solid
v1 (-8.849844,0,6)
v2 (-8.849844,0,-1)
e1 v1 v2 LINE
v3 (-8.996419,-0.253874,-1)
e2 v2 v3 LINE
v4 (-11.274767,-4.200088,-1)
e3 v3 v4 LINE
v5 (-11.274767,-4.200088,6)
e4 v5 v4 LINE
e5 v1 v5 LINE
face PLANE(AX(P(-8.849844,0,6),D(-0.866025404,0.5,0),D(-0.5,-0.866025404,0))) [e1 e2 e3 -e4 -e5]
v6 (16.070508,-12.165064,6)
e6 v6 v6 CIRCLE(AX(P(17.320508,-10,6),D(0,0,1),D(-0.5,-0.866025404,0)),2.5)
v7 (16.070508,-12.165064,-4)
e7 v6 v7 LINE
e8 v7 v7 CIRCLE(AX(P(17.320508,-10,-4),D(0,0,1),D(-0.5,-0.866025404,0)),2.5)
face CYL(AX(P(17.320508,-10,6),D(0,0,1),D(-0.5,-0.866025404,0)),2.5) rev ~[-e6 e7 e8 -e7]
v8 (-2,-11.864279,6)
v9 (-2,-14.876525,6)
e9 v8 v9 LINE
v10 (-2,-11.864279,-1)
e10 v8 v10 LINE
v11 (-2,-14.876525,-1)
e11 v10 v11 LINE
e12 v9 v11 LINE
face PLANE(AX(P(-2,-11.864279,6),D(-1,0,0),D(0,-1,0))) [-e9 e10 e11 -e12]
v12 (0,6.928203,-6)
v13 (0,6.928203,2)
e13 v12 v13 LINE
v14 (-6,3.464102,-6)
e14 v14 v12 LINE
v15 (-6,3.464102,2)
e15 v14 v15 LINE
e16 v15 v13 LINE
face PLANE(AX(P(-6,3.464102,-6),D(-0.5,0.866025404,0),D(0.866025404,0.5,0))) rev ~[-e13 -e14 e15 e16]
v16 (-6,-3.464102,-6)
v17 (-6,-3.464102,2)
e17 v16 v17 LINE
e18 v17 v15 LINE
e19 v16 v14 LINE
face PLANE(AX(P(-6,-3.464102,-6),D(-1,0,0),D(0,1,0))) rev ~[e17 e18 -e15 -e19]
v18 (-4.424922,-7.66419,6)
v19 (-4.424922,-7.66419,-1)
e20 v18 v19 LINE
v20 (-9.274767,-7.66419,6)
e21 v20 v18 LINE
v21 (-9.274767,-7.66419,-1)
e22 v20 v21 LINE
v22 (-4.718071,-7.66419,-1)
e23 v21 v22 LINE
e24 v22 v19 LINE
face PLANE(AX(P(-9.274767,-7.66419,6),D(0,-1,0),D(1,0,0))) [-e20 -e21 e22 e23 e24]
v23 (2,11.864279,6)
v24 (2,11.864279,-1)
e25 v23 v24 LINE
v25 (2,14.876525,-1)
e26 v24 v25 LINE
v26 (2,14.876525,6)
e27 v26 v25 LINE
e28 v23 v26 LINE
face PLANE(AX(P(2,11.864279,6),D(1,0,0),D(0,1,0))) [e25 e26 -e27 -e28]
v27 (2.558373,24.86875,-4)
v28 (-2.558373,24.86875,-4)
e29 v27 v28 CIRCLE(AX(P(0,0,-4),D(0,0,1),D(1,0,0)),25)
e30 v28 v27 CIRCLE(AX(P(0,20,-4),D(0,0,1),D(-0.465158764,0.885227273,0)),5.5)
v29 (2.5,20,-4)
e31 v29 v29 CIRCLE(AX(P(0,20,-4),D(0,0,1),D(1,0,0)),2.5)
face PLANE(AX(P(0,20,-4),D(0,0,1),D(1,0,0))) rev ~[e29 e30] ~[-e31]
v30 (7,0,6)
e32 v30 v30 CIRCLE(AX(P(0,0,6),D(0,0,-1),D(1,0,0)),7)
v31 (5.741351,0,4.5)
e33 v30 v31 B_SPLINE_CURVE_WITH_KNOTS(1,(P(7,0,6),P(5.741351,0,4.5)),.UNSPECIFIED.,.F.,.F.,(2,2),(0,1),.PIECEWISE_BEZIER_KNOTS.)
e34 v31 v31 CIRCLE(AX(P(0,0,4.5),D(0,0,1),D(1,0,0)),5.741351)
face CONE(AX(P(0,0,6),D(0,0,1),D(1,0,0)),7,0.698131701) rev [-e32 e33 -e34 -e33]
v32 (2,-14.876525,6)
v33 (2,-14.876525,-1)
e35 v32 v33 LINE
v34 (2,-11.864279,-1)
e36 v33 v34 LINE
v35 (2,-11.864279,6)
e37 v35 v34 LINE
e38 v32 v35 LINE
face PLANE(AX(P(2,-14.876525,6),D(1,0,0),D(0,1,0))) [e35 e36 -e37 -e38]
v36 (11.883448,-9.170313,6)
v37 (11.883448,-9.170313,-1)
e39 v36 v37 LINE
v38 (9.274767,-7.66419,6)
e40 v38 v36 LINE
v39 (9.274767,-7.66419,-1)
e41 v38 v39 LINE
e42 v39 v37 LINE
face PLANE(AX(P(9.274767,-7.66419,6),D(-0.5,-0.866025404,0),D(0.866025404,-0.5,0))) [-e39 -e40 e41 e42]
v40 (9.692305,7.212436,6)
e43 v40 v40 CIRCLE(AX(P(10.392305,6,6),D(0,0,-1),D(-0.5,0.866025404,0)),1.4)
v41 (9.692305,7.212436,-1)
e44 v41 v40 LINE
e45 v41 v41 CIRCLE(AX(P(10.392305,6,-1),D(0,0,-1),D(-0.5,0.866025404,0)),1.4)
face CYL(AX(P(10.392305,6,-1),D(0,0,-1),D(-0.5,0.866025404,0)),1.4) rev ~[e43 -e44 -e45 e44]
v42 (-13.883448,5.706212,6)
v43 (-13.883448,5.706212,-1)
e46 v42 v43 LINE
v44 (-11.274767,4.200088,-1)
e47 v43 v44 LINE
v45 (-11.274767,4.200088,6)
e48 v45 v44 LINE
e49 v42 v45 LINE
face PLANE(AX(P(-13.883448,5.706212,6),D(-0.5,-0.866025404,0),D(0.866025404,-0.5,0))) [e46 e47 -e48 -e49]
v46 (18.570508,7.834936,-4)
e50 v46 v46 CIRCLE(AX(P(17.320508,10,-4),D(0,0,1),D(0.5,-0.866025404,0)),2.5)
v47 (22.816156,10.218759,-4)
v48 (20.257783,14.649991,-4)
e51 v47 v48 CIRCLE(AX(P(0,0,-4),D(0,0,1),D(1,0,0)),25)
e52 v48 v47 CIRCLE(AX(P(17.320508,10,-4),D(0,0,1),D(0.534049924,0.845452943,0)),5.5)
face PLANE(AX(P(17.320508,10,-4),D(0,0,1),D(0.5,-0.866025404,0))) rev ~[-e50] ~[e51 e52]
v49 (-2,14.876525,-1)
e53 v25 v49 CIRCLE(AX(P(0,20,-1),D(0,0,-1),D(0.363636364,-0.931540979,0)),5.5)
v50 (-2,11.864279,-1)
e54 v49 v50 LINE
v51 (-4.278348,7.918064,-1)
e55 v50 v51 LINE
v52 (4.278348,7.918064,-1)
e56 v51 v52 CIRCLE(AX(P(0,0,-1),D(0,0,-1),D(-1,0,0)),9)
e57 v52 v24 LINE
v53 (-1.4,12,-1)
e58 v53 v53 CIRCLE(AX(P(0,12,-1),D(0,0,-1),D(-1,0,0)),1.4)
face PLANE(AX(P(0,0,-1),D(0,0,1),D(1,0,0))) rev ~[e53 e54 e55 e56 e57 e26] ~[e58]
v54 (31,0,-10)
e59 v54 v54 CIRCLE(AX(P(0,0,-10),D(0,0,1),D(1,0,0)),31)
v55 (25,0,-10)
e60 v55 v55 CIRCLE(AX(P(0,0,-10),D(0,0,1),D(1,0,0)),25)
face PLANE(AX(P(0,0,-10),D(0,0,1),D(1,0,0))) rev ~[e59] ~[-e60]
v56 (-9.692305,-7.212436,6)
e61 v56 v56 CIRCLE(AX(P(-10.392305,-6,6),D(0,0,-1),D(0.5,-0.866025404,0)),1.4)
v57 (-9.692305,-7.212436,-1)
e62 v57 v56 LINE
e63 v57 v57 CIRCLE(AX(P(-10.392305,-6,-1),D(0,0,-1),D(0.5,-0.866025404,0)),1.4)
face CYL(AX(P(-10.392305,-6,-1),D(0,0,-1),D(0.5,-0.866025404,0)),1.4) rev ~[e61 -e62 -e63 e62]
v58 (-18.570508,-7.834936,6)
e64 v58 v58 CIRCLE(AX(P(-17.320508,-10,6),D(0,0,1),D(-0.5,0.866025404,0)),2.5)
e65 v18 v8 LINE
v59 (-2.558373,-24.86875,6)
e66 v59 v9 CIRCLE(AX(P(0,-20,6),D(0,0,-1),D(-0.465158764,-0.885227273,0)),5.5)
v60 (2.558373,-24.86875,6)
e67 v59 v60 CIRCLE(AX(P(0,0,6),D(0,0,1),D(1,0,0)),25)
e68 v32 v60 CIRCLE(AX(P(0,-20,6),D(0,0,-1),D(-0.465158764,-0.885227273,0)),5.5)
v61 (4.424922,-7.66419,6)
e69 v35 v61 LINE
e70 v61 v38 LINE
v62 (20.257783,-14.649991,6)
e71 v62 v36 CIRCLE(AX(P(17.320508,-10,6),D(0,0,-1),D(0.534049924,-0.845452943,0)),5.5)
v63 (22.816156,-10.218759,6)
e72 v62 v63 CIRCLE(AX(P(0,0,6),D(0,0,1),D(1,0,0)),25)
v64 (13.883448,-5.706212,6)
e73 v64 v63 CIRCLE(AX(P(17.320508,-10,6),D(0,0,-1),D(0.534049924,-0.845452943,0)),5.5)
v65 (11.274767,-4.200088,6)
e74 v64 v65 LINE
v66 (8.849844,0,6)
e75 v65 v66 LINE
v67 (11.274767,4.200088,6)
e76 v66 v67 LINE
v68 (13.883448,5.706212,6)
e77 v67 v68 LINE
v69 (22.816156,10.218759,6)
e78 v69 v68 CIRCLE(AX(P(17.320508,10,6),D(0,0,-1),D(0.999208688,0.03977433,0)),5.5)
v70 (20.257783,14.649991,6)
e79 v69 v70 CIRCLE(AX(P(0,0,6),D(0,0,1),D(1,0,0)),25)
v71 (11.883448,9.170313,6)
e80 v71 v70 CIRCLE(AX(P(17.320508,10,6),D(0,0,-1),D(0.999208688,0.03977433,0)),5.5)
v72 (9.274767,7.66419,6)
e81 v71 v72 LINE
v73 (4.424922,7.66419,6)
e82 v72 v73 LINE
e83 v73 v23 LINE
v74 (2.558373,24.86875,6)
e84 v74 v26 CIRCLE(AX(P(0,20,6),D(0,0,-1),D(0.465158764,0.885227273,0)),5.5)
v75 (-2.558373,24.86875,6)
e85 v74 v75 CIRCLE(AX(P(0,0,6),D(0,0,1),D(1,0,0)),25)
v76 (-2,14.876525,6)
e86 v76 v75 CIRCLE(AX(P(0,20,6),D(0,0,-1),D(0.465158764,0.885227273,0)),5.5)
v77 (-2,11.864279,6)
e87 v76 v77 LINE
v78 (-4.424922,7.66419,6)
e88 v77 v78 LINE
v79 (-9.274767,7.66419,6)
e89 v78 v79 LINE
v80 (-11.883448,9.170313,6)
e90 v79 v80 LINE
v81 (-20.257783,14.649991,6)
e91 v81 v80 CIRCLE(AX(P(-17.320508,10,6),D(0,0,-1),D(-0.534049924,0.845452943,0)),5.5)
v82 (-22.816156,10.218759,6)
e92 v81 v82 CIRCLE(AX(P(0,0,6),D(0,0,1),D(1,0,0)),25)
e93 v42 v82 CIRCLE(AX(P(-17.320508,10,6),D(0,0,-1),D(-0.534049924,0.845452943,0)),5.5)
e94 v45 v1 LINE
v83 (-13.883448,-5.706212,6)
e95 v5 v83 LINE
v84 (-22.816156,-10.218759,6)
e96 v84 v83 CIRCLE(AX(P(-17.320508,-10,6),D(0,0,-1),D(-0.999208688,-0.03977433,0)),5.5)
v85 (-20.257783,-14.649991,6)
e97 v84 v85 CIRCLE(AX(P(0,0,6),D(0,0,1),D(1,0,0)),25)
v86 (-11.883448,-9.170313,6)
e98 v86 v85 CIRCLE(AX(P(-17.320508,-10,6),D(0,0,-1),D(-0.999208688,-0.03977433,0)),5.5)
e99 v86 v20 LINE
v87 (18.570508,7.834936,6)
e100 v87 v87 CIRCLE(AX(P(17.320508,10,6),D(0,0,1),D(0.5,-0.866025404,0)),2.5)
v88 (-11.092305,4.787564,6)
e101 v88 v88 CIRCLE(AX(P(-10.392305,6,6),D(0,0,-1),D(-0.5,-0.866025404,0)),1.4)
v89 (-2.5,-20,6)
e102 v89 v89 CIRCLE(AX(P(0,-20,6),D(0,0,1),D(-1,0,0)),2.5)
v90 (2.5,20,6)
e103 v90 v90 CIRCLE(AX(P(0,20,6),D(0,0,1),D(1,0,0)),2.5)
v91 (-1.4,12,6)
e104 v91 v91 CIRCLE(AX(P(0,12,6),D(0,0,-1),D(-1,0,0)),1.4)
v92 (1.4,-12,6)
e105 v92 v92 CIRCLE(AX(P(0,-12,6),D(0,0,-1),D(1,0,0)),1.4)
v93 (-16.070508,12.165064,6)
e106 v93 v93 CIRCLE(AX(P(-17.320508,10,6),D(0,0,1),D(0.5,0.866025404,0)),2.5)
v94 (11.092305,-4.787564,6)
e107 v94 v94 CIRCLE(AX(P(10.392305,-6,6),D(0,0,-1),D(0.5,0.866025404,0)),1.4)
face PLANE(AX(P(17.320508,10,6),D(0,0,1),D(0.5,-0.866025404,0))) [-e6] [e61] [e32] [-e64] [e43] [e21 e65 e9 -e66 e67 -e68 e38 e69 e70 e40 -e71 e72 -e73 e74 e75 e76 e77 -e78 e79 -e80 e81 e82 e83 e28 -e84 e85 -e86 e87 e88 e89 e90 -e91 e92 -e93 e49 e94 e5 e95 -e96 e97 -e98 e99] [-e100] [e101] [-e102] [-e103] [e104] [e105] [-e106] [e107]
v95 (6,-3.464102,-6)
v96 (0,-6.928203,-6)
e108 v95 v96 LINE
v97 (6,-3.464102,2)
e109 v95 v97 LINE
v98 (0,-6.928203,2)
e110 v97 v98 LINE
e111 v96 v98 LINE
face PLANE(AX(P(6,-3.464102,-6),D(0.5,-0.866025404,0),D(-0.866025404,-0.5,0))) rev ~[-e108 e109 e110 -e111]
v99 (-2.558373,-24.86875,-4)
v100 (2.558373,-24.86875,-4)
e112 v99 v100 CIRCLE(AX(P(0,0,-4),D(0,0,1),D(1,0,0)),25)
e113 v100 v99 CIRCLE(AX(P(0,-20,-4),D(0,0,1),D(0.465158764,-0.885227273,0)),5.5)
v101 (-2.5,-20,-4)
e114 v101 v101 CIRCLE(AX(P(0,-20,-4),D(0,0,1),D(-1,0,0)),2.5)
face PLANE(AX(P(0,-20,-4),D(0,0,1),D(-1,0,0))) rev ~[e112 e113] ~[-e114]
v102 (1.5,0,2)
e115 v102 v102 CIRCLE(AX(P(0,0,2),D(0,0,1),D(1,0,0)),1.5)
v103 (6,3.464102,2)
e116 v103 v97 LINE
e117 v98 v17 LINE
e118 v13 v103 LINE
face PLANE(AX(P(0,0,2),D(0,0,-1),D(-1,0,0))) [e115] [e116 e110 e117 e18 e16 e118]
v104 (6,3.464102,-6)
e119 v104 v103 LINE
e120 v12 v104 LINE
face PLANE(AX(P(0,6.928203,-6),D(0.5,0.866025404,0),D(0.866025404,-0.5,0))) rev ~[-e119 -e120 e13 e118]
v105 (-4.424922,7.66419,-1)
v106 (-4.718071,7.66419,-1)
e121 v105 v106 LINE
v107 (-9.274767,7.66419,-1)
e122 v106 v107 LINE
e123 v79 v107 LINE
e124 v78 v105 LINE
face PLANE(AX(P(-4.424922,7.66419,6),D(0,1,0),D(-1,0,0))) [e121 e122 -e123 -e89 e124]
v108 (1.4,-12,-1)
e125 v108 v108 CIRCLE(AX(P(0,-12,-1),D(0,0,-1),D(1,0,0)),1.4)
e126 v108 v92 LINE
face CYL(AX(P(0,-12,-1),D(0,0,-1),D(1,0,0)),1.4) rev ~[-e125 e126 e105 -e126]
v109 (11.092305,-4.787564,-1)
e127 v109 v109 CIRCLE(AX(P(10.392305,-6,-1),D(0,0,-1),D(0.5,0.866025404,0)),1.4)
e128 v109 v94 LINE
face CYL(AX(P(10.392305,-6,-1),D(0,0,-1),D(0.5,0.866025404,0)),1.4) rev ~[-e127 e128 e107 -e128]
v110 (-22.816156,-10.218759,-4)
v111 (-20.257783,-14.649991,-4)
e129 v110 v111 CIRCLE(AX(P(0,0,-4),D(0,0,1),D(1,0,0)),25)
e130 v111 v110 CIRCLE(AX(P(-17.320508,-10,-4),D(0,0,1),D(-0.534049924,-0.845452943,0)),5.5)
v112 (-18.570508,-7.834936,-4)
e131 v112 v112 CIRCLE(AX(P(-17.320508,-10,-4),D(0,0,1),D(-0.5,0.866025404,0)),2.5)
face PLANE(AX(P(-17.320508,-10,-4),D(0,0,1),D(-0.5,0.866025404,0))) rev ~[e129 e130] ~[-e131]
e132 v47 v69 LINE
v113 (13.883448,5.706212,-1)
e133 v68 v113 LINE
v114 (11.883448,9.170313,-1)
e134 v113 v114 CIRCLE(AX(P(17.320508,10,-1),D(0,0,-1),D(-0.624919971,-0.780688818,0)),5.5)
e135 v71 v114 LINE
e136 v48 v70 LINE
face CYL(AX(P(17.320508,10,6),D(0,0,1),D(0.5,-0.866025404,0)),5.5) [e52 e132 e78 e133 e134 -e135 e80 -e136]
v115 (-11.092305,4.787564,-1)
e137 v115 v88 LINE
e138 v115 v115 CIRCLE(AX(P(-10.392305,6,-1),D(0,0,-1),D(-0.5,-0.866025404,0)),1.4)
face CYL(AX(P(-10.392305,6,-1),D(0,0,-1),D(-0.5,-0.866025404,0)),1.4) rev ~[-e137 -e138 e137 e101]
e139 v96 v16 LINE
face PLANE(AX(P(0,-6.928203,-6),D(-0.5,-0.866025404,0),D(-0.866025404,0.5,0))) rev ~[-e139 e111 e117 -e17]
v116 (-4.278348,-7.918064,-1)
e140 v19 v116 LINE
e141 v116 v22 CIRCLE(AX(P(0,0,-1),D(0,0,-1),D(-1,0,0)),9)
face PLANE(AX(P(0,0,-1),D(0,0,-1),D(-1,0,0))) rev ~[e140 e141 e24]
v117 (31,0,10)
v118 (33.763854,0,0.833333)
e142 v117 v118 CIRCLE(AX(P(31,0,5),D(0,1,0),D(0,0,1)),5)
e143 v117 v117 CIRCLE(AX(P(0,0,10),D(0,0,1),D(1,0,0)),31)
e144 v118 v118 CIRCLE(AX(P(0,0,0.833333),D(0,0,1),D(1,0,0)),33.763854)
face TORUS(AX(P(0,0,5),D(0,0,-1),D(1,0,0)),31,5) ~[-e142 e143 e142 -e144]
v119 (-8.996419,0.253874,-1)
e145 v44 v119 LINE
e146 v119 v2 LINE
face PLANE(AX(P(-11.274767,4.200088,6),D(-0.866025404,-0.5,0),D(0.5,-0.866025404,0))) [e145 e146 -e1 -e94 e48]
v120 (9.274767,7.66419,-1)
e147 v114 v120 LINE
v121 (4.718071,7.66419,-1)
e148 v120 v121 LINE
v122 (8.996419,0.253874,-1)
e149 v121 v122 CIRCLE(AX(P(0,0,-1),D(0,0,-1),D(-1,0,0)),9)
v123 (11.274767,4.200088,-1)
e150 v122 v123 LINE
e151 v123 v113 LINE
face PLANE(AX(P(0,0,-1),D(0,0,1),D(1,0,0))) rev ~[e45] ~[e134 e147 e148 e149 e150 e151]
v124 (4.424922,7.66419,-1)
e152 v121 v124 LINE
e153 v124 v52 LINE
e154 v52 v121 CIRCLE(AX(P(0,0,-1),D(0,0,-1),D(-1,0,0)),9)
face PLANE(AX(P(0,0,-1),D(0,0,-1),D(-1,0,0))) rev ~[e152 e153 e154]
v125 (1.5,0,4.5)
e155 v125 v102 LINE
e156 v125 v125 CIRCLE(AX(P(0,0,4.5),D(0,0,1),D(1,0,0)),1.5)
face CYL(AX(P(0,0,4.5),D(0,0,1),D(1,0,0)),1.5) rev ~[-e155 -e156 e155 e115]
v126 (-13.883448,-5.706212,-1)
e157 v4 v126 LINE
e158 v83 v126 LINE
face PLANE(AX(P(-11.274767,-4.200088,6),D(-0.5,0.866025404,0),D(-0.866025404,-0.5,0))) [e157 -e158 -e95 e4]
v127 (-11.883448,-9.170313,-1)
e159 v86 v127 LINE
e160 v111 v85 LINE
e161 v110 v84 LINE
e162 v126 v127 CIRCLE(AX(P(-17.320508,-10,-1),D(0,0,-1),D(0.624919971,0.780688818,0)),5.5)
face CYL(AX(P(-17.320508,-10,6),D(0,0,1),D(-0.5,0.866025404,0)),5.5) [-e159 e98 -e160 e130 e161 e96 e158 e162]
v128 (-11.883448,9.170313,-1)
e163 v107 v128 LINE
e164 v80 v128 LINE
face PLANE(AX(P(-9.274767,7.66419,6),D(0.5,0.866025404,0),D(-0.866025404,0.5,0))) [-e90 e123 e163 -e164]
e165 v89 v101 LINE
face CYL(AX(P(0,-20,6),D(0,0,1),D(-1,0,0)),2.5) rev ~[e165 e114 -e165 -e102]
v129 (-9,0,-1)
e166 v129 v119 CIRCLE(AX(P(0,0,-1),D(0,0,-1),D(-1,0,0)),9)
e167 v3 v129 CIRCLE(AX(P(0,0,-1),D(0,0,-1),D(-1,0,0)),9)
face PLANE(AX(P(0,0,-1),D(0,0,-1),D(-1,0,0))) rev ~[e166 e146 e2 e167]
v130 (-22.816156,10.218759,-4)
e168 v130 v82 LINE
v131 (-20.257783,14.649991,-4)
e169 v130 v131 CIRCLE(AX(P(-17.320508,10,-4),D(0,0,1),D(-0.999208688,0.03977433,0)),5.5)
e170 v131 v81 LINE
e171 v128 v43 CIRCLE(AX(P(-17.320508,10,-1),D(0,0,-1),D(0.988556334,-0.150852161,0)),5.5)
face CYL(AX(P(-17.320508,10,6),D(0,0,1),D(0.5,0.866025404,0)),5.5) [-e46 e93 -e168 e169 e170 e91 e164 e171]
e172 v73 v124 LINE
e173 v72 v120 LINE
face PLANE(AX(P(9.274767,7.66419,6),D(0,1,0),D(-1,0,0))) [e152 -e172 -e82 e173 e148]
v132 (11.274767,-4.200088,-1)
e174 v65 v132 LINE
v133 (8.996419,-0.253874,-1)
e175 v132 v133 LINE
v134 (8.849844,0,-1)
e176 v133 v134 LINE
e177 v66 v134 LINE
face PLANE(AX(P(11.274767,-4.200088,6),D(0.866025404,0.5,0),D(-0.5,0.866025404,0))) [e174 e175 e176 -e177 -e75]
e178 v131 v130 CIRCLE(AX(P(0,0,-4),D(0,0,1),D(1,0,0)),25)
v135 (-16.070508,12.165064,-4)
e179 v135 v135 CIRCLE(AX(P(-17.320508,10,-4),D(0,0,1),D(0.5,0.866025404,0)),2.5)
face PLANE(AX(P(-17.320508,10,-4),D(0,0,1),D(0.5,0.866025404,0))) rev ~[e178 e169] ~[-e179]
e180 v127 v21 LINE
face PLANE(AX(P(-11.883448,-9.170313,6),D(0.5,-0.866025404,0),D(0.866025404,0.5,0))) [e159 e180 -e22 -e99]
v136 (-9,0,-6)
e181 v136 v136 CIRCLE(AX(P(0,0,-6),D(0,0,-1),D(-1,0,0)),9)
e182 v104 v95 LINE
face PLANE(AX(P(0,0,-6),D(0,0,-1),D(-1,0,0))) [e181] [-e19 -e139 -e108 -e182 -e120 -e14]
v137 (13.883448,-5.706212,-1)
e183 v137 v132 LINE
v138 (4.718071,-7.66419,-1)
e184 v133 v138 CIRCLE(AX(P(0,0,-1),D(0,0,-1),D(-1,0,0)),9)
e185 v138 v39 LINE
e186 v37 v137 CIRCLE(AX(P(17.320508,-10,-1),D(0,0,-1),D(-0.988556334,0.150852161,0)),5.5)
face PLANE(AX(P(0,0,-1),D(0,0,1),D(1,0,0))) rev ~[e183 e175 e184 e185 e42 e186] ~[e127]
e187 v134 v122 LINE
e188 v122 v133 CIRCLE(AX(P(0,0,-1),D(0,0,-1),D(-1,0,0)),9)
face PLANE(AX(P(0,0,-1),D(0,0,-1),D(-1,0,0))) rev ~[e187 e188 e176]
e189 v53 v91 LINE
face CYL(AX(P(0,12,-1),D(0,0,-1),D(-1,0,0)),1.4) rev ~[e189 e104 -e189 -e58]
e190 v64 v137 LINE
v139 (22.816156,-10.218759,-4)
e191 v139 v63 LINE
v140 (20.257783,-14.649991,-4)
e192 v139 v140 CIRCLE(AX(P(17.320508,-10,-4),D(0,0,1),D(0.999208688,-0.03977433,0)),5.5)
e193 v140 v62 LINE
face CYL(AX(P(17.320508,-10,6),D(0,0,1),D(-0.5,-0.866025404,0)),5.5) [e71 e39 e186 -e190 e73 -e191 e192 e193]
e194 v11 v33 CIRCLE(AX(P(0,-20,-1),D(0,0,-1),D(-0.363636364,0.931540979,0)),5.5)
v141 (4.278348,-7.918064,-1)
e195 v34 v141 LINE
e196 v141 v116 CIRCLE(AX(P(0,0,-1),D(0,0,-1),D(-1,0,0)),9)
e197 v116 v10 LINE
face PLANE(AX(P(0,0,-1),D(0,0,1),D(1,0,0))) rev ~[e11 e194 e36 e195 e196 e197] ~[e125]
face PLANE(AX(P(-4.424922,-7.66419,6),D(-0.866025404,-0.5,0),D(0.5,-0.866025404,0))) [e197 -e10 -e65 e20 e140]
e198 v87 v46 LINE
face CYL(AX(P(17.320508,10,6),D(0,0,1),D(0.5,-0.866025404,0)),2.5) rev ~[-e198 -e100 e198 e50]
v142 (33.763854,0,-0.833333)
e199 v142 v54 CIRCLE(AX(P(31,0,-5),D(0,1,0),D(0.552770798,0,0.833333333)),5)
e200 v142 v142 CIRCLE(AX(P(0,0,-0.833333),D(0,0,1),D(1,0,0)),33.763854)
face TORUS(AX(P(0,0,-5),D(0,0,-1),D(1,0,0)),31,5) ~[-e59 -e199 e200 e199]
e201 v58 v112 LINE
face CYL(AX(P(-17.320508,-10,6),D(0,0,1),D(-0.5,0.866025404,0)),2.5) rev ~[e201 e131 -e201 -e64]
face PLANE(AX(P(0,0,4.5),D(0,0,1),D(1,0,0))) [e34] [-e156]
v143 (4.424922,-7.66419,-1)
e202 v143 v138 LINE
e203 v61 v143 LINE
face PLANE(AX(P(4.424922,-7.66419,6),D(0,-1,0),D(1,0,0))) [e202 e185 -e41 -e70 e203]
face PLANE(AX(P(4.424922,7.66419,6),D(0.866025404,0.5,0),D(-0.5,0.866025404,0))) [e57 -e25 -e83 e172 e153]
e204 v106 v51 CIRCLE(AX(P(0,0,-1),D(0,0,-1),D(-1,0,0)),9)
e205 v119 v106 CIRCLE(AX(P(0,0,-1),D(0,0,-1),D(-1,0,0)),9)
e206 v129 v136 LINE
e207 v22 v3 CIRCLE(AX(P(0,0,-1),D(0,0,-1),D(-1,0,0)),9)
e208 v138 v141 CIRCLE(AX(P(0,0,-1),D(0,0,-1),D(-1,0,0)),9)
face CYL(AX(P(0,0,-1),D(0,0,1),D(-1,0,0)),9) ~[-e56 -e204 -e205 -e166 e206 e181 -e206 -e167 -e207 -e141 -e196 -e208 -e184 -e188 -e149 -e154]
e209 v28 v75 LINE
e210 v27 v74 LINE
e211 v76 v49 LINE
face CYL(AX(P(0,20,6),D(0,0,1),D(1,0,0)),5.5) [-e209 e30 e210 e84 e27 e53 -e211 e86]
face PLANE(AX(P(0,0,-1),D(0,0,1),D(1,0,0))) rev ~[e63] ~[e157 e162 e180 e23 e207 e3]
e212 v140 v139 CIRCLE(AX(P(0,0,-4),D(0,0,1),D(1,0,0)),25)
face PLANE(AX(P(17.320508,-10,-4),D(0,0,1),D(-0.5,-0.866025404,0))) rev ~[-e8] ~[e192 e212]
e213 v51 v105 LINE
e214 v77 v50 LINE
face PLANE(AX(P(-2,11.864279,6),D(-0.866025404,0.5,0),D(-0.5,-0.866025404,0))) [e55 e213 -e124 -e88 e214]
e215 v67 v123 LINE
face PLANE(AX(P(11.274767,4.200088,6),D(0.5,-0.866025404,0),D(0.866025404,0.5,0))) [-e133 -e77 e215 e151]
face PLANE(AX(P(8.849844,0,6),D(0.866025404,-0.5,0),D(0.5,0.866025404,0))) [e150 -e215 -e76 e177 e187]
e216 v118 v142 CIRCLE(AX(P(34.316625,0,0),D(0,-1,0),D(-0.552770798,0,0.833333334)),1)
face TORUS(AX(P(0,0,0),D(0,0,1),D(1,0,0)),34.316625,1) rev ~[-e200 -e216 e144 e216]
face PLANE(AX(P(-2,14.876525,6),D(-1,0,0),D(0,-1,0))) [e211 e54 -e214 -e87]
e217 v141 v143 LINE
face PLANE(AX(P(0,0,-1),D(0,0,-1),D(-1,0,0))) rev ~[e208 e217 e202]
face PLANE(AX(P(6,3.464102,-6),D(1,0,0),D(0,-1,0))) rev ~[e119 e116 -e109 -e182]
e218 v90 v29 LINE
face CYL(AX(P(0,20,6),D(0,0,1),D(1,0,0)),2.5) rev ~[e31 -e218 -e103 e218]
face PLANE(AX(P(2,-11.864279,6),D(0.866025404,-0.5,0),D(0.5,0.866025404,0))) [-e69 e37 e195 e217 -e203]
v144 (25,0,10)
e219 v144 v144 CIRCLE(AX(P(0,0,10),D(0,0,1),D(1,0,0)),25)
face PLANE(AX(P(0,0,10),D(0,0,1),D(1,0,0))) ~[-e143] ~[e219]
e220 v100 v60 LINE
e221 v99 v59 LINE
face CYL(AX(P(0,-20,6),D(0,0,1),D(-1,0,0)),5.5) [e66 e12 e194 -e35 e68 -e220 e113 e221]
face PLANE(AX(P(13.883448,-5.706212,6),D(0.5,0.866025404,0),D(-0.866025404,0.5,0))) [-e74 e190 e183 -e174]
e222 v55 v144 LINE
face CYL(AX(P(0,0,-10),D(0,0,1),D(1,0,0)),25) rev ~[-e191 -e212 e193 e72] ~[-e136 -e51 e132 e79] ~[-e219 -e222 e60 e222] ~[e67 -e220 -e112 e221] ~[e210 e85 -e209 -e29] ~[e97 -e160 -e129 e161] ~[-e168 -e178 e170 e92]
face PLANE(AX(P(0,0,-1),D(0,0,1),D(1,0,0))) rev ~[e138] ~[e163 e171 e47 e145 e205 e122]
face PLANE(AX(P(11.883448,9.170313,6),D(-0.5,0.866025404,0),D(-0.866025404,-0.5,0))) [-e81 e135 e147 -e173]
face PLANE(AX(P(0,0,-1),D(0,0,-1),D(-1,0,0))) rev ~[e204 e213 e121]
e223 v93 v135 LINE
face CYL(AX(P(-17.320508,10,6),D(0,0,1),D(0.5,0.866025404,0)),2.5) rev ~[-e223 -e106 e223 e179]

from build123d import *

# Parameters (mm, degrees)
SKETCH_2_R               = 5.5
EXTRUDE_1_DEPTH          = 10
PATTERN_CIRCULAR_1_COUNT = 6
EXTRUDE_2_DEPTH          = 7
SKETCH_4_R               = 1.4
CUT_EXTRUDE_1_DEPTH      = 12
PATTERN_CIRCULAR_2_COUNT = 6
SKETCH_5_R               = 9
EXTRUDE_3_DEPTH          = 5
SKETCH_7_R               = 7
CUT_EXTRUDE_3_DEPTH      = 1.5
CUT_EXTRUDE_3_TAPER      = 40
SKETCH_8_R               = 1.5
CUT_EXTRUDE_4_DEPTH      = 15.5
SKETCH_10_R              = 1.25
CUT_EXTRUDE_6_DEPTH      = 17
SKETCH_11_R              = 2.5
CUT_EXTRUDE_7_DEPTH      = 17
PATTERN_CIRCULAR_4_COUNT = 6
CUT_EXTRUDE_9_DEPTH      = 8


with BuildPart() as part:
    # 草图1 → 旋转1 (revolve)
    with BuildSketch(Plane(origin=(0, 0, 0), x_dir=(1, 0, 0), z_dir=(0, 1, 0))):
        with BuildLine():
            Line((25, 10), (25, -10))
            Line((25, -10), (31, -10))
            ThreePointArc((31, -10), (35.787135539, -6.443375673), (33.763853992, -0.833333333))
            ThreePointArc((33.763853992, -0.833333333), (33.31662479, 0), (33.763853992, 0.833333333))
            ThreePointArc((33.763853992, 0.833333333), (35.787135539, 6.443375673), (31, 10))
            Line((31, 10), (25, 10))
        make_face()
    revolve(axis=Axis((0, 0, -146.934042126), (0, 0, 1)))

    # 草图2 → 凸台-拉伸1 (add)
    with BuildSketch(Plane.XY.offset(6)):
        with Locations((0, 20)):
            Circle(SKETCH_2_R)
    extrude_1 = extrude(amount=-EXTRUDE_1_DEPTH)

    # 阵列(圆周)1: 凸台-拉伸1 ×6 about axis
    pattern_circular_1_axis = Axis((0, 0, 0), (0, 0, 1))
    for i in range(1, PATTERN_CIRCULAR_1_COUNT):
        add(extrude_1.rotate(pattern_circular_1_axis, i * 360 / PATTERN_CIRCULAR_1_COUNT))

    # 草图3 → 凸台-拉伸2 (add)
    with BuildSketch(Plane.XY.offset(6)):
        with BuildLine():
            Line((-8.849844437, 0), (-11.274766656, -4.200088487))
            Line((-11.274766656, -4.200088487), (-13.883448238, -5.706211501))
            ThreePointArc((-13.883448238, -5.706211501), (-12.557368355, -7.25), (-11.883448238, -9.170313116))
            Line((-11.883448238, -9.170313116), (-9.274766656, -7.664190102))
            Line((-9.274766656, -7.664190102), (-4.424922219, -7.664190102))
            Line((-4.424922219, -7.664190102), (-2, -11.864278589))
            Line((-2, -11.864278589), (-2, -14.876524617))
            ThreePointArc((-2, -14.876524617), (0, -14.5), (2, -14.876524617))
            Line((2, -14.876524617), (2, -11.864278589))
            Line((2, -11.864278589), (4.424922219, -7.664190102))
            Line((4.424922219, -7.664190102), (9.274766656, -7.664190102))
            Line((9.274766656, -7.664190102), (11.883448238, -9.170313116))
            ThreePointArc((11.883448238, -9.170313116), (12.557368355, -7.25), (13.883448238, -5.706211501))
            Line((13.883448238, -5.706211501), (11.274766656, -4.200088487))
            Line((11.274766656, -4.200088487), (8.849844437, 0))
            Line((8.849844437, 0), (11.274766656, 4.200088487))
            Line((11.274766656, 4.200088487), (13.883448238, 5.706211501))
            ThreePointArc((13.883448238, 5.706211501), (12.557368355, 7.25), (11.883448238, 9.170313116))
            Line((11.883448238, 9.170313116), (9.274766656, 7.664190102))
            Line((9.274766656, 7.664190102), (4.424922219, 7.664190102))
            Line((4.424922219, 7.664190102), (2, 11.864278589))
            Line((2, 11.864278589), (2, 14.876524617))
            ThreePointArc((2, 14.876524617), (0, 14.5), (-2, 14.876524617))
            Line((-2, 14.876524617), (-2, 11.864278589))
            Line((-2, 11.864278589), (-4.424922219, 7.664190102))
            Line((-4.424922219, 7.664190102), (-9.274766656, 7.664190102))
            Line((-9.274766656, 7.664190102), (-11.883448238, 9.170313116))
            ThreePointArc((-11.883448238, 9.170313116), (-12.557368355, 7.25), (-13.883448238, 5.706211501))
            Line((-13.883448238, 5.706211501), (-11.274766656, 4.200088487))
            Line((-11.274766656, 4.200088487), (-8.849844437, 0))
        make_face()
    extrude(amount=-EXTRUDE_2_DEPTH)

    # 草图4 → 切除-拉伸1 (cut, through all)
    with BuildSketch(Plane(origin=(0, 0, -1), x_dir=(-1, 0, 0), z_dir=(0, 0, -1))):
        with Locations((0, 12)):
            Circle(SKETCH_4_R)
    cut_extrude_1 = extrude(amount=-CUT_EXTRUDE_1_DEPTH, mode=Mode.SUBTRACT)

    # 阵列(圆周)2: 切除-拉伸1 ×6 about axis
    pattern_circular_2_axis = Axis((0, 0, 0), (0, 0, 1))
    for i in range(1, PATTERN_CIRCULAR_2_COUNT):
        add(cut_extrude_1.rotate(pattern_circular_2_axis, i * 360 / PATTERN_CIRCULAR_2_COUNT), mode=Mode.SUBTRACT)

    # 草图5 → 凸台-拉伸3 (add)
    with BuildSketch(Plane(origin=(0, 0, -1), x_dir=(-1, 0, 0), z_dir=(0, 0, -1))):
        Circle(SKETCH_5_R)
    extrude(amount=EXTRUDE_3_DEPTH)

    # 草图7 → 切除-拉伸3 (cut)
    with BuildSketch(Plane.XY.offset(6)):
        Circle(SKETCH_7_R)
    extrude(amount=-CUT_EXTRUDE_3_DEPTH, taper=CUT_EXTRUDE_3_TAPER, mode=Mode.SUBTRACT)

    # 草图8 → 切除-拉伸4 (cut, through all)
    with BuildSketch(Plane.XY.offset(4.5)):
        Circle(SKETCH_8_R)
    extrude(amount=-CUT_EXTRUDE_4_DEPTH, mode=Mode.SUBTRACT)

    # 草图10 → 切除-拉伸6 (cut, through all)
    with BuildSketch(Plane.XY.offset(6)):
        with Locations((0, 20)):
            Circle(SKETCH_10_R)
    extrude(amount=-CUT_EXTRUDE_6_DEPTH, mode=Mode.SUBTRACT)

    # 草图11 → 切除-拉伸7 (cut, through all)
    with BuildSketch(Plane.XY.offset(6)):
        with Locations((0, 20)):
            Circle(SKETCH_11_R)
    cut_extrude_7 = extrude(amount=-CUT_EXTRUDE_7_DEPTH, mode=Mode.SUBTRACT)

    # 阵列(圆周)4: 切除-拉伸7 ×6 about axis
    pattern_circular_4_axis = Axis((0, 0, 0), (0, 0, 1))
    for i in range(1, PATTERN_CIRCULAR_4_COUNT):
        add(cut_extrude_7.rotate(pattern_circular_4_axis, i * 360 / PATTERN_CIRCULAR_4_COUNT), mode=Mode.SUBTRACT)

    # 草图14 → 切除-拉伸9 (cut)
    with BuildSketch(Plane(origin=(0, 0, -6), x_dir=(-1, 0, 0), z_dir=(0, 0, -1))):
        Polygon((0, 6.92820323), (-6, 3.464101615), (-6, -3.464101615), (0, -6.92820323), (6, -3.464101615), (6, 3.464101615), align=None)
    extrude(amount=-CUT_EXTRUDE_9_DEPTH, mode=Mode.SUBTRACT)


solid = part.part
